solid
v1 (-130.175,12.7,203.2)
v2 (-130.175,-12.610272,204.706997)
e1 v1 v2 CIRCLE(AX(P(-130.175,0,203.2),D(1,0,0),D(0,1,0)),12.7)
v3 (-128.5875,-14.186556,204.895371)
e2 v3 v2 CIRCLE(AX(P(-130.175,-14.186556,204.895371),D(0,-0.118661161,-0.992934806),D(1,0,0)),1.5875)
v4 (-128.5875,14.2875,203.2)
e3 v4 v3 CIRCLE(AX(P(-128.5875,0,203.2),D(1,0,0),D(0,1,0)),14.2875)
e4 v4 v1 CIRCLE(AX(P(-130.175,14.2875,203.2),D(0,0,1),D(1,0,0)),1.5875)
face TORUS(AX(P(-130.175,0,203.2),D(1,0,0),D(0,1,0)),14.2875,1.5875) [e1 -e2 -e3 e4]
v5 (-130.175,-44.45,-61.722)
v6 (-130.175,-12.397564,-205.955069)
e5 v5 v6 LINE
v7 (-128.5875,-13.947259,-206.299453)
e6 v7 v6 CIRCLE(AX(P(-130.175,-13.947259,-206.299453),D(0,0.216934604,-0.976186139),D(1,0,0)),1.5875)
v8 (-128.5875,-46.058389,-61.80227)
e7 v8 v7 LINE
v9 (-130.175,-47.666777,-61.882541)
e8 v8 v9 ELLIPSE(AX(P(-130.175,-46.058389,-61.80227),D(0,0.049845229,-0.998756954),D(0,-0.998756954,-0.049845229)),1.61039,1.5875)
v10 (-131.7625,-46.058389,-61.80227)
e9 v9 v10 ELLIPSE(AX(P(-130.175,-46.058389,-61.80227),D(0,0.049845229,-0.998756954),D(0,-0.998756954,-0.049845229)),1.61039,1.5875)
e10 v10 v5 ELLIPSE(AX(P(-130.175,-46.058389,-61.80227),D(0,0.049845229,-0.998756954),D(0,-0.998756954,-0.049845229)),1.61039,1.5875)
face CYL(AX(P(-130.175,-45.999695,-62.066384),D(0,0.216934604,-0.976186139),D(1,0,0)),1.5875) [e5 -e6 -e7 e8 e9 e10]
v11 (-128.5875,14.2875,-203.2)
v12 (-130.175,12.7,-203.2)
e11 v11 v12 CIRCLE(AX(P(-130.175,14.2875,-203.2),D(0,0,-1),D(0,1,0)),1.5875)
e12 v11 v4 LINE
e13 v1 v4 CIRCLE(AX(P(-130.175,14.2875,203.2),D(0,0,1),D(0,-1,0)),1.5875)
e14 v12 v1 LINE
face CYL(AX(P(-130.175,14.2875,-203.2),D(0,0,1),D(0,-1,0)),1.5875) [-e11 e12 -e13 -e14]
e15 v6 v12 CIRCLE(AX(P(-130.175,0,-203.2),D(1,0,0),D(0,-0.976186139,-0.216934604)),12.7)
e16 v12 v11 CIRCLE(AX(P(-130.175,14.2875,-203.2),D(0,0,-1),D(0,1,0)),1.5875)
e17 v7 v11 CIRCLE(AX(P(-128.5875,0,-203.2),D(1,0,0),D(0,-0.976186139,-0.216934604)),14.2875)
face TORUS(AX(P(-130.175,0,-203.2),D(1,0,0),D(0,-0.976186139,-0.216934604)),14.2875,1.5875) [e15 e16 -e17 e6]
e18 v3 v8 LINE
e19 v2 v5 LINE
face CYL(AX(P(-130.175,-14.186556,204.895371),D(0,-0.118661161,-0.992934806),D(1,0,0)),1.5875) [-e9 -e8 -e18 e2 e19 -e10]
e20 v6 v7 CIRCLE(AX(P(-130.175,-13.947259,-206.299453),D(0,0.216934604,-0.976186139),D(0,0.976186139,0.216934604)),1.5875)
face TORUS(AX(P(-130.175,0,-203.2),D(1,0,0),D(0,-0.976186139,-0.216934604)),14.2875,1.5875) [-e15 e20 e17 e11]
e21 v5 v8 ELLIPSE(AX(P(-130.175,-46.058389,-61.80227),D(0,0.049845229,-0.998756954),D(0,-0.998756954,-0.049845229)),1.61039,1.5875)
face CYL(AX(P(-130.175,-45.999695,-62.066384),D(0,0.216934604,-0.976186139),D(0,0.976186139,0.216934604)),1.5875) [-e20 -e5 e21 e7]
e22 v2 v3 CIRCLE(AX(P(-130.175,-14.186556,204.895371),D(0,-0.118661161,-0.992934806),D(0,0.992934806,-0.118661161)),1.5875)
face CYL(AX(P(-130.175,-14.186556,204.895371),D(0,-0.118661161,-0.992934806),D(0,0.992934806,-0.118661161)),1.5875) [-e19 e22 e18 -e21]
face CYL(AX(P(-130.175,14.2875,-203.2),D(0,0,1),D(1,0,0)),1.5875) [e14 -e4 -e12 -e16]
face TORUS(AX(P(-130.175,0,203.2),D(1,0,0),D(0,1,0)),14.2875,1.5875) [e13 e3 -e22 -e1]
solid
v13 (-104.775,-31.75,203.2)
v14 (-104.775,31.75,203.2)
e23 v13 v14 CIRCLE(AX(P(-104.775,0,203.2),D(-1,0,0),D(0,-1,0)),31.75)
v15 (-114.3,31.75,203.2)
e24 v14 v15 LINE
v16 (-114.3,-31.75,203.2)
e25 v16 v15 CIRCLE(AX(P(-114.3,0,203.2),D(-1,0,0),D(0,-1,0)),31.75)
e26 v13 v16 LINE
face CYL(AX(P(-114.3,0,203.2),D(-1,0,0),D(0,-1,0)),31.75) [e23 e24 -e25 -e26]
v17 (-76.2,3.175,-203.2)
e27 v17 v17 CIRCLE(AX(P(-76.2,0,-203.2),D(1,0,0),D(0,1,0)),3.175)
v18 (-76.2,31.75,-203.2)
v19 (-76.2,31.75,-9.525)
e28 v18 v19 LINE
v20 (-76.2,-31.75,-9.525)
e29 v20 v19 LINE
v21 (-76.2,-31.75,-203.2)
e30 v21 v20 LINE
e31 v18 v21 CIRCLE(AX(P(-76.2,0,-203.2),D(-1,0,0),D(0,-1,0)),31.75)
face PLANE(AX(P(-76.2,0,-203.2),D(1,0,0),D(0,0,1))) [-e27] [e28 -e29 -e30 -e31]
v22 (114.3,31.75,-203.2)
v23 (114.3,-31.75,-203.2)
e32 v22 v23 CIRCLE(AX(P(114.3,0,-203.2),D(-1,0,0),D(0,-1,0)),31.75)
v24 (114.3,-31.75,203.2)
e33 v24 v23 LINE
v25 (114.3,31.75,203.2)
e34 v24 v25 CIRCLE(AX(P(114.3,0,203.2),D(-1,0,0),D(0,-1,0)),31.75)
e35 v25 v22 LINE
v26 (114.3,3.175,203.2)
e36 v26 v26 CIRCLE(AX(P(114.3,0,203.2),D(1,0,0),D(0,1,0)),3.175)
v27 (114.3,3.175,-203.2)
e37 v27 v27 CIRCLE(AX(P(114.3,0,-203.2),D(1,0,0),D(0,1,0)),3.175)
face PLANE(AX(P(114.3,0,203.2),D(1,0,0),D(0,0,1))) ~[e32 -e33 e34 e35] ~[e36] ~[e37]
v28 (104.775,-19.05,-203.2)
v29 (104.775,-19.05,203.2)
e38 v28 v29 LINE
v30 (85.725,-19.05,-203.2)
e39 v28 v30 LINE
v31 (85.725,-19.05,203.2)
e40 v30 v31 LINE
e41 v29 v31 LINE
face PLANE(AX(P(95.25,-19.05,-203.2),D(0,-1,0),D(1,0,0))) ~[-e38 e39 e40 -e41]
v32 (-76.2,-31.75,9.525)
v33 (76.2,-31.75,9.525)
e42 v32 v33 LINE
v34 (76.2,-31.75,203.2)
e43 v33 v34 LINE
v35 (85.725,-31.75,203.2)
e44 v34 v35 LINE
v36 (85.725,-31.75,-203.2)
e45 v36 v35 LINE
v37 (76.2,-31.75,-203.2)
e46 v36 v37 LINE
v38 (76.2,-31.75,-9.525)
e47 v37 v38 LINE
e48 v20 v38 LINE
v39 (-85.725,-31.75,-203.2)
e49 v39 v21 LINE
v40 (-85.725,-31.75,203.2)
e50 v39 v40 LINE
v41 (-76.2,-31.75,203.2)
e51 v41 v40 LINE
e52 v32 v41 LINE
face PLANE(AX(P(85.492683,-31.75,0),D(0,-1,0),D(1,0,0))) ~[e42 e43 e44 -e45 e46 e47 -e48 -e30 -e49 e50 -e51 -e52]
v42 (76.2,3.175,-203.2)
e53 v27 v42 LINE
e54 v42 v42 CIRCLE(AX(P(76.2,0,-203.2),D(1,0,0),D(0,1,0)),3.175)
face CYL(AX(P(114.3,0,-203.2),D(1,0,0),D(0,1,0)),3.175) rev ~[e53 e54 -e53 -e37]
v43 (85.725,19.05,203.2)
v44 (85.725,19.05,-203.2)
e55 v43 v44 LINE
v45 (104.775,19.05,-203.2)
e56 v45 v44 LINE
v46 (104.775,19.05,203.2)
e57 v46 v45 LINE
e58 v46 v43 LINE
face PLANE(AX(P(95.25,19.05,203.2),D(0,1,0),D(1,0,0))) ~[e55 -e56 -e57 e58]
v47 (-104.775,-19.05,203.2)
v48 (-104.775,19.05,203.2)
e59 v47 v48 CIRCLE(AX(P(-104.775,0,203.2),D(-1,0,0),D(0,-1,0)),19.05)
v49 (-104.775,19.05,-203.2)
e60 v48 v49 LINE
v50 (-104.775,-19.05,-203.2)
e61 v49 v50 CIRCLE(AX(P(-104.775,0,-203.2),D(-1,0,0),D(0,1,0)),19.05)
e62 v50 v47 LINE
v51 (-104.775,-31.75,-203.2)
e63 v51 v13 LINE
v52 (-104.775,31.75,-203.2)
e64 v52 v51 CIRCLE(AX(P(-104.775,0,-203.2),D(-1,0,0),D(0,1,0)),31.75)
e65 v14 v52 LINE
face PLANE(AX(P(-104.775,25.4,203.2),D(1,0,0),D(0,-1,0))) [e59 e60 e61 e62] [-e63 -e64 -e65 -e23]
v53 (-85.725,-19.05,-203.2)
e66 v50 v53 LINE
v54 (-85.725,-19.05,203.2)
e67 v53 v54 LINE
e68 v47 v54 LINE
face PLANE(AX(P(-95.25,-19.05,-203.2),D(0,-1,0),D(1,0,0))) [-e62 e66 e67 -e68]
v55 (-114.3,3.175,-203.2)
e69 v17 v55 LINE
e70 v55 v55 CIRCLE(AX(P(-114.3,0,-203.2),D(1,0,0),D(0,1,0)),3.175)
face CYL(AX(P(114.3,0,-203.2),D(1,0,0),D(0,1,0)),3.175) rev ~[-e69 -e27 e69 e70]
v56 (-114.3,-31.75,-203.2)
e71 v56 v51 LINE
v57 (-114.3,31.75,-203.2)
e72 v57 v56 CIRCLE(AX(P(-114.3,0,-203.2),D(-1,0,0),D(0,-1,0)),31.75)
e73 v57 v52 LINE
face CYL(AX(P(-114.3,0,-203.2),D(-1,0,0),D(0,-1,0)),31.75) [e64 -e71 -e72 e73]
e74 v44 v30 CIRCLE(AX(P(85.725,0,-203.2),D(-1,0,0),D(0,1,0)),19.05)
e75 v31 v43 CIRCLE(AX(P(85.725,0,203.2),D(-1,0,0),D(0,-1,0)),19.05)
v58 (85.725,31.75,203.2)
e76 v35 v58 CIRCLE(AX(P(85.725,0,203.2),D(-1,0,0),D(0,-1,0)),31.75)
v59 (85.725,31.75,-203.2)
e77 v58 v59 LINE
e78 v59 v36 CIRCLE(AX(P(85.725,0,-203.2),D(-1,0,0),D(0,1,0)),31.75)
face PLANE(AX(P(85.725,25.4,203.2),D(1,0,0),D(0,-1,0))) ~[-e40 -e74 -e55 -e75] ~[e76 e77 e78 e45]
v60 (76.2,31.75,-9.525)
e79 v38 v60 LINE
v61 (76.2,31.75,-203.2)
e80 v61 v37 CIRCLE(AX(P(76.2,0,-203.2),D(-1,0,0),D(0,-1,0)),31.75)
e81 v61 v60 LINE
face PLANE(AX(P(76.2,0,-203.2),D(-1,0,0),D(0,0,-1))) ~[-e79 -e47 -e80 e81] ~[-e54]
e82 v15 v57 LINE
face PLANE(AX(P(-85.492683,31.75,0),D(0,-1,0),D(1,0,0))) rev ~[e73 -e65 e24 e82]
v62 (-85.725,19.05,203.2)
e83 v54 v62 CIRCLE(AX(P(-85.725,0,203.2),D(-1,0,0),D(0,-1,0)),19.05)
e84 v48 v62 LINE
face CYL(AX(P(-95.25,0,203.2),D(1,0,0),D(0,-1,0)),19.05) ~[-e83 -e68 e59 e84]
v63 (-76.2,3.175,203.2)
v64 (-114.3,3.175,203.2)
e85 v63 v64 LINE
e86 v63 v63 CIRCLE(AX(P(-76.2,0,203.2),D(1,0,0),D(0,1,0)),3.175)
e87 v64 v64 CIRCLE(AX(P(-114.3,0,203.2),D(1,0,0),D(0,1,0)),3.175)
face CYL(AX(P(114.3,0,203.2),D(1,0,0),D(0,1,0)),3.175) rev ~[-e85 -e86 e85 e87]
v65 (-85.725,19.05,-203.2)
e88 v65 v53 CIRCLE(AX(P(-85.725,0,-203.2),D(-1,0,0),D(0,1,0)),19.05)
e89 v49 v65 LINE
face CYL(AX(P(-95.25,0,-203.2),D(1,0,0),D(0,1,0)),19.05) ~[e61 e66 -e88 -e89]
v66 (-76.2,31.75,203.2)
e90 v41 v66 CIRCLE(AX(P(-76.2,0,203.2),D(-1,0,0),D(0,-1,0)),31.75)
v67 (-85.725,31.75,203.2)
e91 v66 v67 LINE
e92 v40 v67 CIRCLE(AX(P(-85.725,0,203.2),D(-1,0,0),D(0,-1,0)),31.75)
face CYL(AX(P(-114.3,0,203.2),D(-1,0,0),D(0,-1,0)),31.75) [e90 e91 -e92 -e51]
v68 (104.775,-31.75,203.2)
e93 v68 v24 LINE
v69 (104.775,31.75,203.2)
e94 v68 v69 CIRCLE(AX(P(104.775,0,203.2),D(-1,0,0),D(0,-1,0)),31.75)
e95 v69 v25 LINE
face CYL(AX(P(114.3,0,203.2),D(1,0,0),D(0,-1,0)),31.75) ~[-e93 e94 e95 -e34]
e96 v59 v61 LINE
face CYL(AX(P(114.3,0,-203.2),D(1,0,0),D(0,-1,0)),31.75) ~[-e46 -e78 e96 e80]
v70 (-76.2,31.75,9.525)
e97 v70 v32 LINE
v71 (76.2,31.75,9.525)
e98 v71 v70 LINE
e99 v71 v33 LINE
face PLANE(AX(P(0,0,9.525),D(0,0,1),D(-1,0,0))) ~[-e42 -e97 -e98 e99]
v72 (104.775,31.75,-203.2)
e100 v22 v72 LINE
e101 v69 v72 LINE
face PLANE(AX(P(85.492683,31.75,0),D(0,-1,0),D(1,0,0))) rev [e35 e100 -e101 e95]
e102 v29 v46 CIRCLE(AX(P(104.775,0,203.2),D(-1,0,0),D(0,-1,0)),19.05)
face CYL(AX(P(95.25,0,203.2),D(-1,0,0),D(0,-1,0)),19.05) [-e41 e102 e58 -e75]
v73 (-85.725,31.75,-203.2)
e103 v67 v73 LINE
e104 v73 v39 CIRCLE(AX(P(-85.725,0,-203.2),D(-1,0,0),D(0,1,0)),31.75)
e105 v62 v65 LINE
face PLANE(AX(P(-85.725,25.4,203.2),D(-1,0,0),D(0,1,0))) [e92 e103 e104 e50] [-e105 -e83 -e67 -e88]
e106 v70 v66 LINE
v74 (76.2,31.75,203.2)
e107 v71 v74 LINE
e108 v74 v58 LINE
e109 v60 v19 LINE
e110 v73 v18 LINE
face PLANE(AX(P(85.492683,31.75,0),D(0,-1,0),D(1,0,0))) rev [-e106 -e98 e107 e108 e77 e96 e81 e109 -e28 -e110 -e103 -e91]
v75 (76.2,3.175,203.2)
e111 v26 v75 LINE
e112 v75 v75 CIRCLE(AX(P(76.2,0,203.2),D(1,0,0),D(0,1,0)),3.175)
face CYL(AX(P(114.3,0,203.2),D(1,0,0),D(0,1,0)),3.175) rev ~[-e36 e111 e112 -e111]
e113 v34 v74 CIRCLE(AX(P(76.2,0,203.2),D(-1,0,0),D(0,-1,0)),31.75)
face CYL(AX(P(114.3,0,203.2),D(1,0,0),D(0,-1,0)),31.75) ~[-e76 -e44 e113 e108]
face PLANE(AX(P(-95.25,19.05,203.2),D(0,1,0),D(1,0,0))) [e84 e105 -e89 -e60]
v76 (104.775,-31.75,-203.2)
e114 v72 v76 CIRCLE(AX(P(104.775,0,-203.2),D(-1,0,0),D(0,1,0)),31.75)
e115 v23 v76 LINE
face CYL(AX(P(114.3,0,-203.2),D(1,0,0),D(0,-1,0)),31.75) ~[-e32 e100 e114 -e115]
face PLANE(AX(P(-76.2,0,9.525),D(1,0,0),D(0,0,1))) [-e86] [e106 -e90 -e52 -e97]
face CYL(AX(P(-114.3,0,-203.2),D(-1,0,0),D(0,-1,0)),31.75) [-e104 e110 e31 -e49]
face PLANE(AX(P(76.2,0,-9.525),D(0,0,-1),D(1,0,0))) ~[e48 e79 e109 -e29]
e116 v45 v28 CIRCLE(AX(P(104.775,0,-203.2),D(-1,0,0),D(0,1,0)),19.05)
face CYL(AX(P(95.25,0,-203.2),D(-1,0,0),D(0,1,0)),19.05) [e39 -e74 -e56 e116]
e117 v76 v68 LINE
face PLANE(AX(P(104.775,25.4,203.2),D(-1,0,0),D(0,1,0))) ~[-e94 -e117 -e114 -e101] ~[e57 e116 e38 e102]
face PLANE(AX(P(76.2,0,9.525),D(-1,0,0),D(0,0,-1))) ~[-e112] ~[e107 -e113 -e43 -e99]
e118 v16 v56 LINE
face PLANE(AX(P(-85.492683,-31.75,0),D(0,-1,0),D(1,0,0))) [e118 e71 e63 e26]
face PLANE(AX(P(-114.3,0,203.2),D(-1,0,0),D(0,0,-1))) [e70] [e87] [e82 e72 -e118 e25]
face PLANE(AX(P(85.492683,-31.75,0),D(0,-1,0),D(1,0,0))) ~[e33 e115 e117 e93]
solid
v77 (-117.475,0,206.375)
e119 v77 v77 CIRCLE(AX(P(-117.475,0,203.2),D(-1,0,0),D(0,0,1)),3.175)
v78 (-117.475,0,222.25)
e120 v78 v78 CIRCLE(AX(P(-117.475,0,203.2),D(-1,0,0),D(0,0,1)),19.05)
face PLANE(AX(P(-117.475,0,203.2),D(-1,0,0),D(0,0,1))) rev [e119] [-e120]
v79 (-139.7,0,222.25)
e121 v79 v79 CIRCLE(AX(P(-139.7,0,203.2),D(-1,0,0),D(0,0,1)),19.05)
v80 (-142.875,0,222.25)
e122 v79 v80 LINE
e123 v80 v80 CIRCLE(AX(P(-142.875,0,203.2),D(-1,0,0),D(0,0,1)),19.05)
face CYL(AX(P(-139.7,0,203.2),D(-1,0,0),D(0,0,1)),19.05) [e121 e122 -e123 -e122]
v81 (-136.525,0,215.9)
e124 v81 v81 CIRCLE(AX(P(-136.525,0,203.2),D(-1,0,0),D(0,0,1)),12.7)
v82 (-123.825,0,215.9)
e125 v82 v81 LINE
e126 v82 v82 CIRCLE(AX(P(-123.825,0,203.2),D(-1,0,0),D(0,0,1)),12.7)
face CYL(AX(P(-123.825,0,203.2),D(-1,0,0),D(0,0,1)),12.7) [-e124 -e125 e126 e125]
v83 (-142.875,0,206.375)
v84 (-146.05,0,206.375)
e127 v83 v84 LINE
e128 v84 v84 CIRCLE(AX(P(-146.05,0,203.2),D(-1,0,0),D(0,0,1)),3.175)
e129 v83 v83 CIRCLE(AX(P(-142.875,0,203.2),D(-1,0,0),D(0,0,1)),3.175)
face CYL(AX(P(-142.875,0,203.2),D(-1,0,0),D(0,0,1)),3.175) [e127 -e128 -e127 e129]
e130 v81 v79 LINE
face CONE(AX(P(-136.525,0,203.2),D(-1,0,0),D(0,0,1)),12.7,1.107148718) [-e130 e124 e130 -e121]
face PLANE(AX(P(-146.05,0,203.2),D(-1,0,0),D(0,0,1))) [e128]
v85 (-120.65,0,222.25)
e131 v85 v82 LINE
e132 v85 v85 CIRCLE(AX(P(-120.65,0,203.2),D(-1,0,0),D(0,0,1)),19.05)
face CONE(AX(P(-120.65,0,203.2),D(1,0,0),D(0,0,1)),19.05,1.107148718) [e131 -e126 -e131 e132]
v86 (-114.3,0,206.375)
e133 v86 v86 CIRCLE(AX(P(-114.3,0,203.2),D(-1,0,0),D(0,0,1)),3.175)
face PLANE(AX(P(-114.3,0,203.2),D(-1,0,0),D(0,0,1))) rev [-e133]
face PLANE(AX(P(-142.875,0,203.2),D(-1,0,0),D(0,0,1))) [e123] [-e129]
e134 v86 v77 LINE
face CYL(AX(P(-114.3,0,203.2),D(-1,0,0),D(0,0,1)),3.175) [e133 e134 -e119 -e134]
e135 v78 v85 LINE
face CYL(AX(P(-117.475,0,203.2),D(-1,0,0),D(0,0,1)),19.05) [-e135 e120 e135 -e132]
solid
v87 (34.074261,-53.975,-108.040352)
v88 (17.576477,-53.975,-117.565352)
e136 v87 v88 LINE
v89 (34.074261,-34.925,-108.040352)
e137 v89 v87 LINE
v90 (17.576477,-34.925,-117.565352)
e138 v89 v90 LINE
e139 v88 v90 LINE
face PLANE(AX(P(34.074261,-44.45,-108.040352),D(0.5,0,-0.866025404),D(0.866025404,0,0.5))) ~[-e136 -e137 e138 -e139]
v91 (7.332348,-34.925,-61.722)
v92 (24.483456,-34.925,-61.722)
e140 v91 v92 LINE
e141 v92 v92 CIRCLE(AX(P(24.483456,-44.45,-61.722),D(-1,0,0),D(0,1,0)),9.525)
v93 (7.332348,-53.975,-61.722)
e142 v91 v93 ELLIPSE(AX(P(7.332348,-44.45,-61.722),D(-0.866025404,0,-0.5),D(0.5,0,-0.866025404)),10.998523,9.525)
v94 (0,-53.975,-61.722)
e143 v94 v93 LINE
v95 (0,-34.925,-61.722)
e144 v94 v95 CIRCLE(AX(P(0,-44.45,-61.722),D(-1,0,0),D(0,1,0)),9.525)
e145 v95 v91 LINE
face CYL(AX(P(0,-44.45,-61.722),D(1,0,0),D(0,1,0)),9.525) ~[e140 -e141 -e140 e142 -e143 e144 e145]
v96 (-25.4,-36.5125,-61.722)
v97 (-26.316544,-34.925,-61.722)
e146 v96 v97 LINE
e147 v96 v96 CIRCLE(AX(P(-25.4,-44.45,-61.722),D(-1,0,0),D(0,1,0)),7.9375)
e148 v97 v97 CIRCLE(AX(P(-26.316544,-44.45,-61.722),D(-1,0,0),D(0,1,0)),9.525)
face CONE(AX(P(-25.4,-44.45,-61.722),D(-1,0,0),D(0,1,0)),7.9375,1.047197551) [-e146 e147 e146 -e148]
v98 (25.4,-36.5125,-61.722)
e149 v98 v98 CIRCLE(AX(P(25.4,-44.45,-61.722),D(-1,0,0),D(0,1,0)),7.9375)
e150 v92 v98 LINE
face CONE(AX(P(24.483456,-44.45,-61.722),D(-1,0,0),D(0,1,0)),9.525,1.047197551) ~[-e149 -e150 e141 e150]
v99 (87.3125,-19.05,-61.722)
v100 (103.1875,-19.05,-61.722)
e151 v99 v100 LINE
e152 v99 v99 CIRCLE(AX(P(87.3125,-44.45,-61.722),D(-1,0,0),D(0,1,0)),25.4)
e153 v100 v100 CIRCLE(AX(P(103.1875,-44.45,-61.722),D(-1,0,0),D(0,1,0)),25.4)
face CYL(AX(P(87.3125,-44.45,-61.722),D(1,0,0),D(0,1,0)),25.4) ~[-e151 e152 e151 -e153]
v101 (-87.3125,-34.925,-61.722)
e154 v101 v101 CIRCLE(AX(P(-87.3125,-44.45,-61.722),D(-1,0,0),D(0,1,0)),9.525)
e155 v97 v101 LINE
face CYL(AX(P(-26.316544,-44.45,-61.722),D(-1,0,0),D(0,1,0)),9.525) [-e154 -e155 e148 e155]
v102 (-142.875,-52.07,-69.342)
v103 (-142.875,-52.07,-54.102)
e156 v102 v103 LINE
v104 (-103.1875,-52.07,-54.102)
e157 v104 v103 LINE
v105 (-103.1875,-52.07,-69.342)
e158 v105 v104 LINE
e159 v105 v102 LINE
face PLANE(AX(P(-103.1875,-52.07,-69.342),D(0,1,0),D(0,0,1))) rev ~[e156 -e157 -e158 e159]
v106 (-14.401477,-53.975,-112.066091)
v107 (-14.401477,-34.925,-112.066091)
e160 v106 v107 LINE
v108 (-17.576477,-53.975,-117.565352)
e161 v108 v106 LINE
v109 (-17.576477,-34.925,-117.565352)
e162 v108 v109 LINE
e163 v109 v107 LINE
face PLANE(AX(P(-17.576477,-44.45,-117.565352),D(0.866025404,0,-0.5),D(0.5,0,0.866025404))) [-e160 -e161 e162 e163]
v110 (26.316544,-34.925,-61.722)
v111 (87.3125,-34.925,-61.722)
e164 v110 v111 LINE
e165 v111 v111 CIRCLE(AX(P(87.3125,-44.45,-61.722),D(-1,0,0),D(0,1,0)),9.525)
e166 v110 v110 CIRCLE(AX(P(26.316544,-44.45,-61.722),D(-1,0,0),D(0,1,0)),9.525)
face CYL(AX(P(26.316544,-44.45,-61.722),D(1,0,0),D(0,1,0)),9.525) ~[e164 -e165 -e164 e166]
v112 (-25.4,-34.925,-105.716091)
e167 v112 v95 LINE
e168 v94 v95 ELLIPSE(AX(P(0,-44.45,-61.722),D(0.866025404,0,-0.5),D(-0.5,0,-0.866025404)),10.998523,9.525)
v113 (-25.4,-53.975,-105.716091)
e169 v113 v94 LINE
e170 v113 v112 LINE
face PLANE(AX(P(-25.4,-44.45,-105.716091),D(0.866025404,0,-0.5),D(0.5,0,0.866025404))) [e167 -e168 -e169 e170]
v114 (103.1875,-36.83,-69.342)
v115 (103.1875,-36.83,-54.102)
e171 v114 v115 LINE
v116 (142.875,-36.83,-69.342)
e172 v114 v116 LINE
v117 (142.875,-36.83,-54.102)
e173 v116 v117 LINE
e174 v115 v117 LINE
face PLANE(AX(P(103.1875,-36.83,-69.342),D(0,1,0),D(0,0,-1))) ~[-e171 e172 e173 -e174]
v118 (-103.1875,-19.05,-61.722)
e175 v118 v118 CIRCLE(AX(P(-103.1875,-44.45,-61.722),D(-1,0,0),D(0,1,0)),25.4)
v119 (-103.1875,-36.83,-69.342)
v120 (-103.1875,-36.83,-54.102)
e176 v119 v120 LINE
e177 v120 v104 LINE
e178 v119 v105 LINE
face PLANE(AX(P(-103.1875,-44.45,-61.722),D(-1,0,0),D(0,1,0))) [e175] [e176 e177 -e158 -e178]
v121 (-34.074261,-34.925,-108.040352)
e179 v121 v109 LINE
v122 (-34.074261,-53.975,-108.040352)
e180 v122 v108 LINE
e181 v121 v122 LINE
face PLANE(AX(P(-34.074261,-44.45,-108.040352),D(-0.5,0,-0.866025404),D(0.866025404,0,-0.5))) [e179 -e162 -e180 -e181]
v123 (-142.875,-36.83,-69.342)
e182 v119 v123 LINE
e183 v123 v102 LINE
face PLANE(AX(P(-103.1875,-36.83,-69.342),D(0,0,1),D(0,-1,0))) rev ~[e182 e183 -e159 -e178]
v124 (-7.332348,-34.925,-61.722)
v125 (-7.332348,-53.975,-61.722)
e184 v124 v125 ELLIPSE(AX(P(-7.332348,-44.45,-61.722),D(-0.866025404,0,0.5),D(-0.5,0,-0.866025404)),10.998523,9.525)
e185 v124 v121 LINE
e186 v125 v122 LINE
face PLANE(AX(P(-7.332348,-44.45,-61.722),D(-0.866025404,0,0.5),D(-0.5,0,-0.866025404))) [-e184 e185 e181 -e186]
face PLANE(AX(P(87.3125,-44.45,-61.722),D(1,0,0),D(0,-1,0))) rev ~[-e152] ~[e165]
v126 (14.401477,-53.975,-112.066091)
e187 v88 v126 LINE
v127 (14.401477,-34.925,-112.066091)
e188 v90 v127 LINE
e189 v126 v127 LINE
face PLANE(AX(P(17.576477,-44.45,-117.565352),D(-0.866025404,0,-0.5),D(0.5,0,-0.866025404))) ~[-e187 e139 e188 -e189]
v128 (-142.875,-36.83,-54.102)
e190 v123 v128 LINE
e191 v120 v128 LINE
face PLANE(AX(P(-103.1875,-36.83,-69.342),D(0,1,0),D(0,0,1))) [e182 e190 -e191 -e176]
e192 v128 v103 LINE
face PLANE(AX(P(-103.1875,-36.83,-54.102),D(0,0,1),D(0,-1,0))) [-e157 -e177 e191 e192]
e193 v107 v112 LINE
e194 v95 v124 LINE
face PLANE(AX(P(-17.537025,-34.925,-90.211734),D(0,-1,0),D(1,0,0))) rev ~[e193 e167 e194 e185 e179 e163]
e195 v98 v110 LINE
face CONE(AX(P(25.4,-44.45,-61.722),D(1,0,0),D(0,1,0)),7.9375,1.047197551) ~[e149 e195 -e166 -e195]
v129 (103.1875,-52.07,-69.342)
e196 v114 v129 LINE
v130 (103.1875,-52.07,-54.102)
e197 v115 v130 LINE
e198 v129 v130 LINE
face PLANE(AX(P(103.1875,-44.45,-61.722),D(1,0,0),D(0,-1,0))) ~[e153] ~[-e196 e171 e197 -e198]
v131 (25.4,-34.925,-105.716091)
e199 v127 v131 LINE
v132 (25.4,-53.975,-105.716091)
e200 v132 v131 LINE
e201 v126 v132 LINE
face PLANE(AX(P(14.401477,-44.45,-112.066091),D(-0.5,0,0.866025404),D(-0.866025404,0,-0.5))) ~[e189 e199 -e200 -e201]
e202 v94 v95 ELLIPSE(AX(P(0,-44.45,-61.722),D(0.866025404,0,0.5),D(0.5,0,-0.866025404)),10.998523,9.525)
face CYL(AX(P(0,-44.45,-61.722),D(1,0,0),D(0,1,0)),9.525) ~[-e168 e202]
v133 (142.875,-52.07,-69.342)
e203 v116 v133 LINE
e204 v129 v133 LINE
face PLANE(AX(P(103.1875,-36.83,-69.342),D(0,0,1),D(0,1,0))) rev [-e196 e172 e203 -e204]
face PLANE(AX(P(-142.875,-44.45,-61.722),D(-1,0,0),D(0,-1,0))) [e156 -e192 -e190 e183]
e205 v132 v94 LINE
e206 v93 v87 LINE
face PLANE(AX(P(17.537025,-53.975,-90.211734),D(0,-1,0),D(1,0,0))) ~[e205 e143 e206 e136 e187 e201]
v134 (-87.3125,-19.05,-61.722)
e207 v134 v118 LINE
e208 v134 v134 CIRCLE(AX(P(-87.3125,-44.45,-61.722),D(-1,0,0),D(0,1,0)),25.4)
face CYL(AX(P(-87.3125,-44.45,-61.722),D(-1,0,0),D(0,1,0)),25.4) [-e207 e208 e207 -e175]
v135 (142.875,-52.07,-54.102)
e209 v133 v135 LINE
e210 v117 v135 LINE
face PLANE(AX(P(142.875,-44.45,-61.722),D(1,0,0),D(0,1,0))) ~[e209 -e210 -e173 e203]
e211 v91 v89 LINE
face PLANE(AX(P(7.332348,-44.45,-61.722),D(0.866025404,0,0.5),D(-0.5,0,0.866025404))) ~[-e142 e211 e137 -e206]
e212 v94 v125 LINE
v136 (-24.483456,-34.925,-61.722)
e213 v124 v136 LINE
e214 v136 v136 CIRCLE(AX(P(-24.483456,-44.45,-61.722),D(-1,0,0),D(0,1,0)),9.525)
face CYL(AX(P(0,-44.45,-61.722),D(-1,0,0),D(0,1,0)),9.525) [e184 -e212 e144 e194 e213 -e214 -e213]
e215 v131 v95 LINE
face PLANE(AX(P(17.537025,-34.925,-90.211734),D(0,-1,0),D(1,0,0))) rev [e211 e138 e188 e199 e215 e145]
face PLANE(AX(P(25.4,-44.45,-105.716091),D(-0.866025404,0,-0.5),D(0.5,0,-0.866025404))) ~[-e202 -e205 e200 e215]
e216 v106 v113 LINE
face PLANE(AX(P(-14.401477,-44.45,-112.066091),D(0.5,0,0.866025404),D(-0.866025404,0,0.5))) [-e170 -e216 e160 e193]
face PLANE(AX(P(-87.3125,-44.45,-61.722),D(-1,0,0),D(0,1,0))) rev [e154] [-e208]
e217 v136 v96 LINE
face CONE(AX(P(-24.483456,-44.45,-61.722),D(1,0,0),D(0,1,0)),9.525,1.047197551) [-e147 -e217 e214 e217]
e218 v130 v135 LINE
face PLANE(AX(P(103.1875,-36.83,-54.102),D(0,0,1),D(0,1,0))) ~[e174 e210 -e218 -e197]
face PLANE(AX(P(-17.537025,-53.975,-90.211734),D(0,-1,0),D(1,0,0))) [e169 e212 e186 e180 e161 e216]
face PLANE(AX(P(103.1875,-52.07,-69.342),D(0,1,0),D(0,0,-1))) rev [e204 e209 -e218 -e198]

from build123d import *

# Parameters (mm, degrees)
F1_DEPTH  = 31.75
F2_R      = 31.75
F3_DEPTH  = 38.1
F4_W      = 19.05
F4_H      = 12.7
F7_R      = 3.175
F8_DEPTH  = 228.601
F15_DEPTH = 9.525
F19_W     = 15.24
F19_H     = 15.24
F20_DEPTH = 39.6875


with BuildPart() as f1:
    # F0 (on Front) → F1 (new body, symmetric)
    with BuildSketch(Plane.XZ):
        Polygon((-76.2, -9.525), (0, -9.525), (0, 9.525), (-76.2, 9.525), (-76.2, 203.2), (-114.3, 203.2), (-114.3, -203.2), (-76.2, -203.2), align=None)
    extrude(amount=F1_DEPTH, both=True)

    # F2 (on face) → F3 (join, through all)
    with BuildSketch(Plane(origin=(-114.3, 0, 0), x_dir=(0, -1, 0), z_dir=(-1, 0, 0))):
        with Locations((0, 203.2)):
            Circle(F2_R)
        with Locations((0, -203.2)):
            Circle(F2_R)
    extrude(amount=-F3_DEPTH)

    # F5: sweep along a path in F5_path
    with BuildLine(Plane(origin=(-114.3, -31.75, 203.2), x_dir=(0, 0, 1), z_dir=(1, 0, 0))) as f5_path:
        ThreePointArc((0, 0), (31.75, -31.75), (0, -63.5))
        Line((0, -63.5), (-406.4, -63.5))
        ThreePointArc((-406.4, -63.5), (-438.15, -31.75), (-406.4, 0))
        Line((-406.4, 0), (0, 0))
    # F4 (on Front) → F5 (sweep, cut)
    with BuildSketch(Plane.XZ):
        with Locations((-95.25, 228.6)):
            Rectangle(F4_W, F4_H)
    sweep(path=f5_path.line, mode=Mode.SUBTRACT)

    # F6: F1 across plane


with BuildPart() as f1_1:
    add(f1.part)
    add(f1.part.mirror(Plane.YZ))

    # F7 (on face) → F8 (cut, through all)
    with BuildSketch(Plane.YZ.offset(114.3)):
        with Locations((0, 203.2)):
            Circle(F7_R)
        with Locations((0, -203.2)):
            Circle(F7_R)
    extrude(amount=-F8_DEPTH, mode=Mode.SUBTRACT)



with BuildPart() as f10:
    # F9 (on Front) → F10 (revolve)
    with BuildSketch(Plane.XZ):
        Polygon((-146.05, 203.2), (-114.3, 203.2), (-114.3, 206.375), (-117.475, 206.375), (-117.475, 222.25), (-120.65, 222.25), (-123.825, 215.9), (-130.175, 215.9), (-136.525, 215.9), (-139.7, 222.25), (-142.875, 222.25), (-142.875, 206.375), (-146.05, 206.375), align=None)
    revolve(axis=Axis((-130.175, 0, 203.2), (-1, 0, 0)))


with BuildPart() as f12:
    # F11 (on Top) → F12 (revolve)
    with BuildSketch(Plane.XY):
        Polygon((-103.1875, -19.05), (-103.1875, -44.45), (0, -44.45), (0, -34.925), (-24.4834564477, -34.925), (-25.4, -36.5125), (-26.3165435523, -34.925), (-87.3125, -34.925), (-87.3125, -19.05), align=None)
    revolve(axis=Axis((-51.59375, -44.45, 0), (-1, 0, 0)))

    # F14 (on plane+point) → F15 (join, symmetric)
    with BuildSketch(Plane.XZ.offset(44.45)):
        Polygon((-25.4, -43.9940905122), (0, 0), (-7.3323484187, 0), (-34.074261314, -46.3183518263), (-17.5764773719, -55.8433518263), (-14.4014773719, -50.3440905122), align=None)
    extrude(amount=F15_DEPTH, both=True)


with BuildPart() as f12_1:
    # F16: moved
    add(f12.part.moved(Location((0, 0, -61.722))))

    # F19 (on face) → F20 (join, through all)
    with BuildSketch(Plane(origin=(-103.1875, 0, 0), x_dir=(0, -1, 0), z_dir=(-1, 0, 0))):
        with Locations((44.45, -61.722)):
            Rectangle(F19_W, F19_H)
    extrude(amount=F20_DEPTH)


with BuildPart() as f18:
    # F18: sweep along a path in F17
    with BuildLine(Plane.YZ) as f18_path:
        Line((-12.6102720354, 204.7069967461), (-44.45, -61.722))
        Line((-44.45, -61.722), (-12.3975639634, -205.9550694679))
        ThreePointArc((-12.3975639634, -205.9550694679), (1.385809811, -215.8241645731), (12.7, -203.2))
        Line((12.7, -203.2), (12.7, 203.2))
        ThreePointArc((12.7, 203.2), (0.7548328127, 215.877548163), (-12.6102720354, 204.7069967461))
    # F9 (on Front) → F18 (sweep)
    with BuildSketch(Plane.XZ):
        with BuildLine():
            ThreePointArc((-128.5875, 217.4875), (-131.2975320151, 218.6100320151), (-130.175, 215.9))
            ThreePointArc((-130.175, 215.9), (-129.0524679849, 216.3649679849), (-128.5875, 217.4875))
        make_face()
    sweep(path=f18_path.line, transition=Transition.RIGHT)


with BuildPart() as f1_2:
    add(f1_1.part)

    add(f12_1.part)  # F21 merges F12
    # F21: F12 across plane
    add(f12_1.part.mirror(Plane.YZ))


solid = Compound([f10.part, f18.part, f1_2.part])
